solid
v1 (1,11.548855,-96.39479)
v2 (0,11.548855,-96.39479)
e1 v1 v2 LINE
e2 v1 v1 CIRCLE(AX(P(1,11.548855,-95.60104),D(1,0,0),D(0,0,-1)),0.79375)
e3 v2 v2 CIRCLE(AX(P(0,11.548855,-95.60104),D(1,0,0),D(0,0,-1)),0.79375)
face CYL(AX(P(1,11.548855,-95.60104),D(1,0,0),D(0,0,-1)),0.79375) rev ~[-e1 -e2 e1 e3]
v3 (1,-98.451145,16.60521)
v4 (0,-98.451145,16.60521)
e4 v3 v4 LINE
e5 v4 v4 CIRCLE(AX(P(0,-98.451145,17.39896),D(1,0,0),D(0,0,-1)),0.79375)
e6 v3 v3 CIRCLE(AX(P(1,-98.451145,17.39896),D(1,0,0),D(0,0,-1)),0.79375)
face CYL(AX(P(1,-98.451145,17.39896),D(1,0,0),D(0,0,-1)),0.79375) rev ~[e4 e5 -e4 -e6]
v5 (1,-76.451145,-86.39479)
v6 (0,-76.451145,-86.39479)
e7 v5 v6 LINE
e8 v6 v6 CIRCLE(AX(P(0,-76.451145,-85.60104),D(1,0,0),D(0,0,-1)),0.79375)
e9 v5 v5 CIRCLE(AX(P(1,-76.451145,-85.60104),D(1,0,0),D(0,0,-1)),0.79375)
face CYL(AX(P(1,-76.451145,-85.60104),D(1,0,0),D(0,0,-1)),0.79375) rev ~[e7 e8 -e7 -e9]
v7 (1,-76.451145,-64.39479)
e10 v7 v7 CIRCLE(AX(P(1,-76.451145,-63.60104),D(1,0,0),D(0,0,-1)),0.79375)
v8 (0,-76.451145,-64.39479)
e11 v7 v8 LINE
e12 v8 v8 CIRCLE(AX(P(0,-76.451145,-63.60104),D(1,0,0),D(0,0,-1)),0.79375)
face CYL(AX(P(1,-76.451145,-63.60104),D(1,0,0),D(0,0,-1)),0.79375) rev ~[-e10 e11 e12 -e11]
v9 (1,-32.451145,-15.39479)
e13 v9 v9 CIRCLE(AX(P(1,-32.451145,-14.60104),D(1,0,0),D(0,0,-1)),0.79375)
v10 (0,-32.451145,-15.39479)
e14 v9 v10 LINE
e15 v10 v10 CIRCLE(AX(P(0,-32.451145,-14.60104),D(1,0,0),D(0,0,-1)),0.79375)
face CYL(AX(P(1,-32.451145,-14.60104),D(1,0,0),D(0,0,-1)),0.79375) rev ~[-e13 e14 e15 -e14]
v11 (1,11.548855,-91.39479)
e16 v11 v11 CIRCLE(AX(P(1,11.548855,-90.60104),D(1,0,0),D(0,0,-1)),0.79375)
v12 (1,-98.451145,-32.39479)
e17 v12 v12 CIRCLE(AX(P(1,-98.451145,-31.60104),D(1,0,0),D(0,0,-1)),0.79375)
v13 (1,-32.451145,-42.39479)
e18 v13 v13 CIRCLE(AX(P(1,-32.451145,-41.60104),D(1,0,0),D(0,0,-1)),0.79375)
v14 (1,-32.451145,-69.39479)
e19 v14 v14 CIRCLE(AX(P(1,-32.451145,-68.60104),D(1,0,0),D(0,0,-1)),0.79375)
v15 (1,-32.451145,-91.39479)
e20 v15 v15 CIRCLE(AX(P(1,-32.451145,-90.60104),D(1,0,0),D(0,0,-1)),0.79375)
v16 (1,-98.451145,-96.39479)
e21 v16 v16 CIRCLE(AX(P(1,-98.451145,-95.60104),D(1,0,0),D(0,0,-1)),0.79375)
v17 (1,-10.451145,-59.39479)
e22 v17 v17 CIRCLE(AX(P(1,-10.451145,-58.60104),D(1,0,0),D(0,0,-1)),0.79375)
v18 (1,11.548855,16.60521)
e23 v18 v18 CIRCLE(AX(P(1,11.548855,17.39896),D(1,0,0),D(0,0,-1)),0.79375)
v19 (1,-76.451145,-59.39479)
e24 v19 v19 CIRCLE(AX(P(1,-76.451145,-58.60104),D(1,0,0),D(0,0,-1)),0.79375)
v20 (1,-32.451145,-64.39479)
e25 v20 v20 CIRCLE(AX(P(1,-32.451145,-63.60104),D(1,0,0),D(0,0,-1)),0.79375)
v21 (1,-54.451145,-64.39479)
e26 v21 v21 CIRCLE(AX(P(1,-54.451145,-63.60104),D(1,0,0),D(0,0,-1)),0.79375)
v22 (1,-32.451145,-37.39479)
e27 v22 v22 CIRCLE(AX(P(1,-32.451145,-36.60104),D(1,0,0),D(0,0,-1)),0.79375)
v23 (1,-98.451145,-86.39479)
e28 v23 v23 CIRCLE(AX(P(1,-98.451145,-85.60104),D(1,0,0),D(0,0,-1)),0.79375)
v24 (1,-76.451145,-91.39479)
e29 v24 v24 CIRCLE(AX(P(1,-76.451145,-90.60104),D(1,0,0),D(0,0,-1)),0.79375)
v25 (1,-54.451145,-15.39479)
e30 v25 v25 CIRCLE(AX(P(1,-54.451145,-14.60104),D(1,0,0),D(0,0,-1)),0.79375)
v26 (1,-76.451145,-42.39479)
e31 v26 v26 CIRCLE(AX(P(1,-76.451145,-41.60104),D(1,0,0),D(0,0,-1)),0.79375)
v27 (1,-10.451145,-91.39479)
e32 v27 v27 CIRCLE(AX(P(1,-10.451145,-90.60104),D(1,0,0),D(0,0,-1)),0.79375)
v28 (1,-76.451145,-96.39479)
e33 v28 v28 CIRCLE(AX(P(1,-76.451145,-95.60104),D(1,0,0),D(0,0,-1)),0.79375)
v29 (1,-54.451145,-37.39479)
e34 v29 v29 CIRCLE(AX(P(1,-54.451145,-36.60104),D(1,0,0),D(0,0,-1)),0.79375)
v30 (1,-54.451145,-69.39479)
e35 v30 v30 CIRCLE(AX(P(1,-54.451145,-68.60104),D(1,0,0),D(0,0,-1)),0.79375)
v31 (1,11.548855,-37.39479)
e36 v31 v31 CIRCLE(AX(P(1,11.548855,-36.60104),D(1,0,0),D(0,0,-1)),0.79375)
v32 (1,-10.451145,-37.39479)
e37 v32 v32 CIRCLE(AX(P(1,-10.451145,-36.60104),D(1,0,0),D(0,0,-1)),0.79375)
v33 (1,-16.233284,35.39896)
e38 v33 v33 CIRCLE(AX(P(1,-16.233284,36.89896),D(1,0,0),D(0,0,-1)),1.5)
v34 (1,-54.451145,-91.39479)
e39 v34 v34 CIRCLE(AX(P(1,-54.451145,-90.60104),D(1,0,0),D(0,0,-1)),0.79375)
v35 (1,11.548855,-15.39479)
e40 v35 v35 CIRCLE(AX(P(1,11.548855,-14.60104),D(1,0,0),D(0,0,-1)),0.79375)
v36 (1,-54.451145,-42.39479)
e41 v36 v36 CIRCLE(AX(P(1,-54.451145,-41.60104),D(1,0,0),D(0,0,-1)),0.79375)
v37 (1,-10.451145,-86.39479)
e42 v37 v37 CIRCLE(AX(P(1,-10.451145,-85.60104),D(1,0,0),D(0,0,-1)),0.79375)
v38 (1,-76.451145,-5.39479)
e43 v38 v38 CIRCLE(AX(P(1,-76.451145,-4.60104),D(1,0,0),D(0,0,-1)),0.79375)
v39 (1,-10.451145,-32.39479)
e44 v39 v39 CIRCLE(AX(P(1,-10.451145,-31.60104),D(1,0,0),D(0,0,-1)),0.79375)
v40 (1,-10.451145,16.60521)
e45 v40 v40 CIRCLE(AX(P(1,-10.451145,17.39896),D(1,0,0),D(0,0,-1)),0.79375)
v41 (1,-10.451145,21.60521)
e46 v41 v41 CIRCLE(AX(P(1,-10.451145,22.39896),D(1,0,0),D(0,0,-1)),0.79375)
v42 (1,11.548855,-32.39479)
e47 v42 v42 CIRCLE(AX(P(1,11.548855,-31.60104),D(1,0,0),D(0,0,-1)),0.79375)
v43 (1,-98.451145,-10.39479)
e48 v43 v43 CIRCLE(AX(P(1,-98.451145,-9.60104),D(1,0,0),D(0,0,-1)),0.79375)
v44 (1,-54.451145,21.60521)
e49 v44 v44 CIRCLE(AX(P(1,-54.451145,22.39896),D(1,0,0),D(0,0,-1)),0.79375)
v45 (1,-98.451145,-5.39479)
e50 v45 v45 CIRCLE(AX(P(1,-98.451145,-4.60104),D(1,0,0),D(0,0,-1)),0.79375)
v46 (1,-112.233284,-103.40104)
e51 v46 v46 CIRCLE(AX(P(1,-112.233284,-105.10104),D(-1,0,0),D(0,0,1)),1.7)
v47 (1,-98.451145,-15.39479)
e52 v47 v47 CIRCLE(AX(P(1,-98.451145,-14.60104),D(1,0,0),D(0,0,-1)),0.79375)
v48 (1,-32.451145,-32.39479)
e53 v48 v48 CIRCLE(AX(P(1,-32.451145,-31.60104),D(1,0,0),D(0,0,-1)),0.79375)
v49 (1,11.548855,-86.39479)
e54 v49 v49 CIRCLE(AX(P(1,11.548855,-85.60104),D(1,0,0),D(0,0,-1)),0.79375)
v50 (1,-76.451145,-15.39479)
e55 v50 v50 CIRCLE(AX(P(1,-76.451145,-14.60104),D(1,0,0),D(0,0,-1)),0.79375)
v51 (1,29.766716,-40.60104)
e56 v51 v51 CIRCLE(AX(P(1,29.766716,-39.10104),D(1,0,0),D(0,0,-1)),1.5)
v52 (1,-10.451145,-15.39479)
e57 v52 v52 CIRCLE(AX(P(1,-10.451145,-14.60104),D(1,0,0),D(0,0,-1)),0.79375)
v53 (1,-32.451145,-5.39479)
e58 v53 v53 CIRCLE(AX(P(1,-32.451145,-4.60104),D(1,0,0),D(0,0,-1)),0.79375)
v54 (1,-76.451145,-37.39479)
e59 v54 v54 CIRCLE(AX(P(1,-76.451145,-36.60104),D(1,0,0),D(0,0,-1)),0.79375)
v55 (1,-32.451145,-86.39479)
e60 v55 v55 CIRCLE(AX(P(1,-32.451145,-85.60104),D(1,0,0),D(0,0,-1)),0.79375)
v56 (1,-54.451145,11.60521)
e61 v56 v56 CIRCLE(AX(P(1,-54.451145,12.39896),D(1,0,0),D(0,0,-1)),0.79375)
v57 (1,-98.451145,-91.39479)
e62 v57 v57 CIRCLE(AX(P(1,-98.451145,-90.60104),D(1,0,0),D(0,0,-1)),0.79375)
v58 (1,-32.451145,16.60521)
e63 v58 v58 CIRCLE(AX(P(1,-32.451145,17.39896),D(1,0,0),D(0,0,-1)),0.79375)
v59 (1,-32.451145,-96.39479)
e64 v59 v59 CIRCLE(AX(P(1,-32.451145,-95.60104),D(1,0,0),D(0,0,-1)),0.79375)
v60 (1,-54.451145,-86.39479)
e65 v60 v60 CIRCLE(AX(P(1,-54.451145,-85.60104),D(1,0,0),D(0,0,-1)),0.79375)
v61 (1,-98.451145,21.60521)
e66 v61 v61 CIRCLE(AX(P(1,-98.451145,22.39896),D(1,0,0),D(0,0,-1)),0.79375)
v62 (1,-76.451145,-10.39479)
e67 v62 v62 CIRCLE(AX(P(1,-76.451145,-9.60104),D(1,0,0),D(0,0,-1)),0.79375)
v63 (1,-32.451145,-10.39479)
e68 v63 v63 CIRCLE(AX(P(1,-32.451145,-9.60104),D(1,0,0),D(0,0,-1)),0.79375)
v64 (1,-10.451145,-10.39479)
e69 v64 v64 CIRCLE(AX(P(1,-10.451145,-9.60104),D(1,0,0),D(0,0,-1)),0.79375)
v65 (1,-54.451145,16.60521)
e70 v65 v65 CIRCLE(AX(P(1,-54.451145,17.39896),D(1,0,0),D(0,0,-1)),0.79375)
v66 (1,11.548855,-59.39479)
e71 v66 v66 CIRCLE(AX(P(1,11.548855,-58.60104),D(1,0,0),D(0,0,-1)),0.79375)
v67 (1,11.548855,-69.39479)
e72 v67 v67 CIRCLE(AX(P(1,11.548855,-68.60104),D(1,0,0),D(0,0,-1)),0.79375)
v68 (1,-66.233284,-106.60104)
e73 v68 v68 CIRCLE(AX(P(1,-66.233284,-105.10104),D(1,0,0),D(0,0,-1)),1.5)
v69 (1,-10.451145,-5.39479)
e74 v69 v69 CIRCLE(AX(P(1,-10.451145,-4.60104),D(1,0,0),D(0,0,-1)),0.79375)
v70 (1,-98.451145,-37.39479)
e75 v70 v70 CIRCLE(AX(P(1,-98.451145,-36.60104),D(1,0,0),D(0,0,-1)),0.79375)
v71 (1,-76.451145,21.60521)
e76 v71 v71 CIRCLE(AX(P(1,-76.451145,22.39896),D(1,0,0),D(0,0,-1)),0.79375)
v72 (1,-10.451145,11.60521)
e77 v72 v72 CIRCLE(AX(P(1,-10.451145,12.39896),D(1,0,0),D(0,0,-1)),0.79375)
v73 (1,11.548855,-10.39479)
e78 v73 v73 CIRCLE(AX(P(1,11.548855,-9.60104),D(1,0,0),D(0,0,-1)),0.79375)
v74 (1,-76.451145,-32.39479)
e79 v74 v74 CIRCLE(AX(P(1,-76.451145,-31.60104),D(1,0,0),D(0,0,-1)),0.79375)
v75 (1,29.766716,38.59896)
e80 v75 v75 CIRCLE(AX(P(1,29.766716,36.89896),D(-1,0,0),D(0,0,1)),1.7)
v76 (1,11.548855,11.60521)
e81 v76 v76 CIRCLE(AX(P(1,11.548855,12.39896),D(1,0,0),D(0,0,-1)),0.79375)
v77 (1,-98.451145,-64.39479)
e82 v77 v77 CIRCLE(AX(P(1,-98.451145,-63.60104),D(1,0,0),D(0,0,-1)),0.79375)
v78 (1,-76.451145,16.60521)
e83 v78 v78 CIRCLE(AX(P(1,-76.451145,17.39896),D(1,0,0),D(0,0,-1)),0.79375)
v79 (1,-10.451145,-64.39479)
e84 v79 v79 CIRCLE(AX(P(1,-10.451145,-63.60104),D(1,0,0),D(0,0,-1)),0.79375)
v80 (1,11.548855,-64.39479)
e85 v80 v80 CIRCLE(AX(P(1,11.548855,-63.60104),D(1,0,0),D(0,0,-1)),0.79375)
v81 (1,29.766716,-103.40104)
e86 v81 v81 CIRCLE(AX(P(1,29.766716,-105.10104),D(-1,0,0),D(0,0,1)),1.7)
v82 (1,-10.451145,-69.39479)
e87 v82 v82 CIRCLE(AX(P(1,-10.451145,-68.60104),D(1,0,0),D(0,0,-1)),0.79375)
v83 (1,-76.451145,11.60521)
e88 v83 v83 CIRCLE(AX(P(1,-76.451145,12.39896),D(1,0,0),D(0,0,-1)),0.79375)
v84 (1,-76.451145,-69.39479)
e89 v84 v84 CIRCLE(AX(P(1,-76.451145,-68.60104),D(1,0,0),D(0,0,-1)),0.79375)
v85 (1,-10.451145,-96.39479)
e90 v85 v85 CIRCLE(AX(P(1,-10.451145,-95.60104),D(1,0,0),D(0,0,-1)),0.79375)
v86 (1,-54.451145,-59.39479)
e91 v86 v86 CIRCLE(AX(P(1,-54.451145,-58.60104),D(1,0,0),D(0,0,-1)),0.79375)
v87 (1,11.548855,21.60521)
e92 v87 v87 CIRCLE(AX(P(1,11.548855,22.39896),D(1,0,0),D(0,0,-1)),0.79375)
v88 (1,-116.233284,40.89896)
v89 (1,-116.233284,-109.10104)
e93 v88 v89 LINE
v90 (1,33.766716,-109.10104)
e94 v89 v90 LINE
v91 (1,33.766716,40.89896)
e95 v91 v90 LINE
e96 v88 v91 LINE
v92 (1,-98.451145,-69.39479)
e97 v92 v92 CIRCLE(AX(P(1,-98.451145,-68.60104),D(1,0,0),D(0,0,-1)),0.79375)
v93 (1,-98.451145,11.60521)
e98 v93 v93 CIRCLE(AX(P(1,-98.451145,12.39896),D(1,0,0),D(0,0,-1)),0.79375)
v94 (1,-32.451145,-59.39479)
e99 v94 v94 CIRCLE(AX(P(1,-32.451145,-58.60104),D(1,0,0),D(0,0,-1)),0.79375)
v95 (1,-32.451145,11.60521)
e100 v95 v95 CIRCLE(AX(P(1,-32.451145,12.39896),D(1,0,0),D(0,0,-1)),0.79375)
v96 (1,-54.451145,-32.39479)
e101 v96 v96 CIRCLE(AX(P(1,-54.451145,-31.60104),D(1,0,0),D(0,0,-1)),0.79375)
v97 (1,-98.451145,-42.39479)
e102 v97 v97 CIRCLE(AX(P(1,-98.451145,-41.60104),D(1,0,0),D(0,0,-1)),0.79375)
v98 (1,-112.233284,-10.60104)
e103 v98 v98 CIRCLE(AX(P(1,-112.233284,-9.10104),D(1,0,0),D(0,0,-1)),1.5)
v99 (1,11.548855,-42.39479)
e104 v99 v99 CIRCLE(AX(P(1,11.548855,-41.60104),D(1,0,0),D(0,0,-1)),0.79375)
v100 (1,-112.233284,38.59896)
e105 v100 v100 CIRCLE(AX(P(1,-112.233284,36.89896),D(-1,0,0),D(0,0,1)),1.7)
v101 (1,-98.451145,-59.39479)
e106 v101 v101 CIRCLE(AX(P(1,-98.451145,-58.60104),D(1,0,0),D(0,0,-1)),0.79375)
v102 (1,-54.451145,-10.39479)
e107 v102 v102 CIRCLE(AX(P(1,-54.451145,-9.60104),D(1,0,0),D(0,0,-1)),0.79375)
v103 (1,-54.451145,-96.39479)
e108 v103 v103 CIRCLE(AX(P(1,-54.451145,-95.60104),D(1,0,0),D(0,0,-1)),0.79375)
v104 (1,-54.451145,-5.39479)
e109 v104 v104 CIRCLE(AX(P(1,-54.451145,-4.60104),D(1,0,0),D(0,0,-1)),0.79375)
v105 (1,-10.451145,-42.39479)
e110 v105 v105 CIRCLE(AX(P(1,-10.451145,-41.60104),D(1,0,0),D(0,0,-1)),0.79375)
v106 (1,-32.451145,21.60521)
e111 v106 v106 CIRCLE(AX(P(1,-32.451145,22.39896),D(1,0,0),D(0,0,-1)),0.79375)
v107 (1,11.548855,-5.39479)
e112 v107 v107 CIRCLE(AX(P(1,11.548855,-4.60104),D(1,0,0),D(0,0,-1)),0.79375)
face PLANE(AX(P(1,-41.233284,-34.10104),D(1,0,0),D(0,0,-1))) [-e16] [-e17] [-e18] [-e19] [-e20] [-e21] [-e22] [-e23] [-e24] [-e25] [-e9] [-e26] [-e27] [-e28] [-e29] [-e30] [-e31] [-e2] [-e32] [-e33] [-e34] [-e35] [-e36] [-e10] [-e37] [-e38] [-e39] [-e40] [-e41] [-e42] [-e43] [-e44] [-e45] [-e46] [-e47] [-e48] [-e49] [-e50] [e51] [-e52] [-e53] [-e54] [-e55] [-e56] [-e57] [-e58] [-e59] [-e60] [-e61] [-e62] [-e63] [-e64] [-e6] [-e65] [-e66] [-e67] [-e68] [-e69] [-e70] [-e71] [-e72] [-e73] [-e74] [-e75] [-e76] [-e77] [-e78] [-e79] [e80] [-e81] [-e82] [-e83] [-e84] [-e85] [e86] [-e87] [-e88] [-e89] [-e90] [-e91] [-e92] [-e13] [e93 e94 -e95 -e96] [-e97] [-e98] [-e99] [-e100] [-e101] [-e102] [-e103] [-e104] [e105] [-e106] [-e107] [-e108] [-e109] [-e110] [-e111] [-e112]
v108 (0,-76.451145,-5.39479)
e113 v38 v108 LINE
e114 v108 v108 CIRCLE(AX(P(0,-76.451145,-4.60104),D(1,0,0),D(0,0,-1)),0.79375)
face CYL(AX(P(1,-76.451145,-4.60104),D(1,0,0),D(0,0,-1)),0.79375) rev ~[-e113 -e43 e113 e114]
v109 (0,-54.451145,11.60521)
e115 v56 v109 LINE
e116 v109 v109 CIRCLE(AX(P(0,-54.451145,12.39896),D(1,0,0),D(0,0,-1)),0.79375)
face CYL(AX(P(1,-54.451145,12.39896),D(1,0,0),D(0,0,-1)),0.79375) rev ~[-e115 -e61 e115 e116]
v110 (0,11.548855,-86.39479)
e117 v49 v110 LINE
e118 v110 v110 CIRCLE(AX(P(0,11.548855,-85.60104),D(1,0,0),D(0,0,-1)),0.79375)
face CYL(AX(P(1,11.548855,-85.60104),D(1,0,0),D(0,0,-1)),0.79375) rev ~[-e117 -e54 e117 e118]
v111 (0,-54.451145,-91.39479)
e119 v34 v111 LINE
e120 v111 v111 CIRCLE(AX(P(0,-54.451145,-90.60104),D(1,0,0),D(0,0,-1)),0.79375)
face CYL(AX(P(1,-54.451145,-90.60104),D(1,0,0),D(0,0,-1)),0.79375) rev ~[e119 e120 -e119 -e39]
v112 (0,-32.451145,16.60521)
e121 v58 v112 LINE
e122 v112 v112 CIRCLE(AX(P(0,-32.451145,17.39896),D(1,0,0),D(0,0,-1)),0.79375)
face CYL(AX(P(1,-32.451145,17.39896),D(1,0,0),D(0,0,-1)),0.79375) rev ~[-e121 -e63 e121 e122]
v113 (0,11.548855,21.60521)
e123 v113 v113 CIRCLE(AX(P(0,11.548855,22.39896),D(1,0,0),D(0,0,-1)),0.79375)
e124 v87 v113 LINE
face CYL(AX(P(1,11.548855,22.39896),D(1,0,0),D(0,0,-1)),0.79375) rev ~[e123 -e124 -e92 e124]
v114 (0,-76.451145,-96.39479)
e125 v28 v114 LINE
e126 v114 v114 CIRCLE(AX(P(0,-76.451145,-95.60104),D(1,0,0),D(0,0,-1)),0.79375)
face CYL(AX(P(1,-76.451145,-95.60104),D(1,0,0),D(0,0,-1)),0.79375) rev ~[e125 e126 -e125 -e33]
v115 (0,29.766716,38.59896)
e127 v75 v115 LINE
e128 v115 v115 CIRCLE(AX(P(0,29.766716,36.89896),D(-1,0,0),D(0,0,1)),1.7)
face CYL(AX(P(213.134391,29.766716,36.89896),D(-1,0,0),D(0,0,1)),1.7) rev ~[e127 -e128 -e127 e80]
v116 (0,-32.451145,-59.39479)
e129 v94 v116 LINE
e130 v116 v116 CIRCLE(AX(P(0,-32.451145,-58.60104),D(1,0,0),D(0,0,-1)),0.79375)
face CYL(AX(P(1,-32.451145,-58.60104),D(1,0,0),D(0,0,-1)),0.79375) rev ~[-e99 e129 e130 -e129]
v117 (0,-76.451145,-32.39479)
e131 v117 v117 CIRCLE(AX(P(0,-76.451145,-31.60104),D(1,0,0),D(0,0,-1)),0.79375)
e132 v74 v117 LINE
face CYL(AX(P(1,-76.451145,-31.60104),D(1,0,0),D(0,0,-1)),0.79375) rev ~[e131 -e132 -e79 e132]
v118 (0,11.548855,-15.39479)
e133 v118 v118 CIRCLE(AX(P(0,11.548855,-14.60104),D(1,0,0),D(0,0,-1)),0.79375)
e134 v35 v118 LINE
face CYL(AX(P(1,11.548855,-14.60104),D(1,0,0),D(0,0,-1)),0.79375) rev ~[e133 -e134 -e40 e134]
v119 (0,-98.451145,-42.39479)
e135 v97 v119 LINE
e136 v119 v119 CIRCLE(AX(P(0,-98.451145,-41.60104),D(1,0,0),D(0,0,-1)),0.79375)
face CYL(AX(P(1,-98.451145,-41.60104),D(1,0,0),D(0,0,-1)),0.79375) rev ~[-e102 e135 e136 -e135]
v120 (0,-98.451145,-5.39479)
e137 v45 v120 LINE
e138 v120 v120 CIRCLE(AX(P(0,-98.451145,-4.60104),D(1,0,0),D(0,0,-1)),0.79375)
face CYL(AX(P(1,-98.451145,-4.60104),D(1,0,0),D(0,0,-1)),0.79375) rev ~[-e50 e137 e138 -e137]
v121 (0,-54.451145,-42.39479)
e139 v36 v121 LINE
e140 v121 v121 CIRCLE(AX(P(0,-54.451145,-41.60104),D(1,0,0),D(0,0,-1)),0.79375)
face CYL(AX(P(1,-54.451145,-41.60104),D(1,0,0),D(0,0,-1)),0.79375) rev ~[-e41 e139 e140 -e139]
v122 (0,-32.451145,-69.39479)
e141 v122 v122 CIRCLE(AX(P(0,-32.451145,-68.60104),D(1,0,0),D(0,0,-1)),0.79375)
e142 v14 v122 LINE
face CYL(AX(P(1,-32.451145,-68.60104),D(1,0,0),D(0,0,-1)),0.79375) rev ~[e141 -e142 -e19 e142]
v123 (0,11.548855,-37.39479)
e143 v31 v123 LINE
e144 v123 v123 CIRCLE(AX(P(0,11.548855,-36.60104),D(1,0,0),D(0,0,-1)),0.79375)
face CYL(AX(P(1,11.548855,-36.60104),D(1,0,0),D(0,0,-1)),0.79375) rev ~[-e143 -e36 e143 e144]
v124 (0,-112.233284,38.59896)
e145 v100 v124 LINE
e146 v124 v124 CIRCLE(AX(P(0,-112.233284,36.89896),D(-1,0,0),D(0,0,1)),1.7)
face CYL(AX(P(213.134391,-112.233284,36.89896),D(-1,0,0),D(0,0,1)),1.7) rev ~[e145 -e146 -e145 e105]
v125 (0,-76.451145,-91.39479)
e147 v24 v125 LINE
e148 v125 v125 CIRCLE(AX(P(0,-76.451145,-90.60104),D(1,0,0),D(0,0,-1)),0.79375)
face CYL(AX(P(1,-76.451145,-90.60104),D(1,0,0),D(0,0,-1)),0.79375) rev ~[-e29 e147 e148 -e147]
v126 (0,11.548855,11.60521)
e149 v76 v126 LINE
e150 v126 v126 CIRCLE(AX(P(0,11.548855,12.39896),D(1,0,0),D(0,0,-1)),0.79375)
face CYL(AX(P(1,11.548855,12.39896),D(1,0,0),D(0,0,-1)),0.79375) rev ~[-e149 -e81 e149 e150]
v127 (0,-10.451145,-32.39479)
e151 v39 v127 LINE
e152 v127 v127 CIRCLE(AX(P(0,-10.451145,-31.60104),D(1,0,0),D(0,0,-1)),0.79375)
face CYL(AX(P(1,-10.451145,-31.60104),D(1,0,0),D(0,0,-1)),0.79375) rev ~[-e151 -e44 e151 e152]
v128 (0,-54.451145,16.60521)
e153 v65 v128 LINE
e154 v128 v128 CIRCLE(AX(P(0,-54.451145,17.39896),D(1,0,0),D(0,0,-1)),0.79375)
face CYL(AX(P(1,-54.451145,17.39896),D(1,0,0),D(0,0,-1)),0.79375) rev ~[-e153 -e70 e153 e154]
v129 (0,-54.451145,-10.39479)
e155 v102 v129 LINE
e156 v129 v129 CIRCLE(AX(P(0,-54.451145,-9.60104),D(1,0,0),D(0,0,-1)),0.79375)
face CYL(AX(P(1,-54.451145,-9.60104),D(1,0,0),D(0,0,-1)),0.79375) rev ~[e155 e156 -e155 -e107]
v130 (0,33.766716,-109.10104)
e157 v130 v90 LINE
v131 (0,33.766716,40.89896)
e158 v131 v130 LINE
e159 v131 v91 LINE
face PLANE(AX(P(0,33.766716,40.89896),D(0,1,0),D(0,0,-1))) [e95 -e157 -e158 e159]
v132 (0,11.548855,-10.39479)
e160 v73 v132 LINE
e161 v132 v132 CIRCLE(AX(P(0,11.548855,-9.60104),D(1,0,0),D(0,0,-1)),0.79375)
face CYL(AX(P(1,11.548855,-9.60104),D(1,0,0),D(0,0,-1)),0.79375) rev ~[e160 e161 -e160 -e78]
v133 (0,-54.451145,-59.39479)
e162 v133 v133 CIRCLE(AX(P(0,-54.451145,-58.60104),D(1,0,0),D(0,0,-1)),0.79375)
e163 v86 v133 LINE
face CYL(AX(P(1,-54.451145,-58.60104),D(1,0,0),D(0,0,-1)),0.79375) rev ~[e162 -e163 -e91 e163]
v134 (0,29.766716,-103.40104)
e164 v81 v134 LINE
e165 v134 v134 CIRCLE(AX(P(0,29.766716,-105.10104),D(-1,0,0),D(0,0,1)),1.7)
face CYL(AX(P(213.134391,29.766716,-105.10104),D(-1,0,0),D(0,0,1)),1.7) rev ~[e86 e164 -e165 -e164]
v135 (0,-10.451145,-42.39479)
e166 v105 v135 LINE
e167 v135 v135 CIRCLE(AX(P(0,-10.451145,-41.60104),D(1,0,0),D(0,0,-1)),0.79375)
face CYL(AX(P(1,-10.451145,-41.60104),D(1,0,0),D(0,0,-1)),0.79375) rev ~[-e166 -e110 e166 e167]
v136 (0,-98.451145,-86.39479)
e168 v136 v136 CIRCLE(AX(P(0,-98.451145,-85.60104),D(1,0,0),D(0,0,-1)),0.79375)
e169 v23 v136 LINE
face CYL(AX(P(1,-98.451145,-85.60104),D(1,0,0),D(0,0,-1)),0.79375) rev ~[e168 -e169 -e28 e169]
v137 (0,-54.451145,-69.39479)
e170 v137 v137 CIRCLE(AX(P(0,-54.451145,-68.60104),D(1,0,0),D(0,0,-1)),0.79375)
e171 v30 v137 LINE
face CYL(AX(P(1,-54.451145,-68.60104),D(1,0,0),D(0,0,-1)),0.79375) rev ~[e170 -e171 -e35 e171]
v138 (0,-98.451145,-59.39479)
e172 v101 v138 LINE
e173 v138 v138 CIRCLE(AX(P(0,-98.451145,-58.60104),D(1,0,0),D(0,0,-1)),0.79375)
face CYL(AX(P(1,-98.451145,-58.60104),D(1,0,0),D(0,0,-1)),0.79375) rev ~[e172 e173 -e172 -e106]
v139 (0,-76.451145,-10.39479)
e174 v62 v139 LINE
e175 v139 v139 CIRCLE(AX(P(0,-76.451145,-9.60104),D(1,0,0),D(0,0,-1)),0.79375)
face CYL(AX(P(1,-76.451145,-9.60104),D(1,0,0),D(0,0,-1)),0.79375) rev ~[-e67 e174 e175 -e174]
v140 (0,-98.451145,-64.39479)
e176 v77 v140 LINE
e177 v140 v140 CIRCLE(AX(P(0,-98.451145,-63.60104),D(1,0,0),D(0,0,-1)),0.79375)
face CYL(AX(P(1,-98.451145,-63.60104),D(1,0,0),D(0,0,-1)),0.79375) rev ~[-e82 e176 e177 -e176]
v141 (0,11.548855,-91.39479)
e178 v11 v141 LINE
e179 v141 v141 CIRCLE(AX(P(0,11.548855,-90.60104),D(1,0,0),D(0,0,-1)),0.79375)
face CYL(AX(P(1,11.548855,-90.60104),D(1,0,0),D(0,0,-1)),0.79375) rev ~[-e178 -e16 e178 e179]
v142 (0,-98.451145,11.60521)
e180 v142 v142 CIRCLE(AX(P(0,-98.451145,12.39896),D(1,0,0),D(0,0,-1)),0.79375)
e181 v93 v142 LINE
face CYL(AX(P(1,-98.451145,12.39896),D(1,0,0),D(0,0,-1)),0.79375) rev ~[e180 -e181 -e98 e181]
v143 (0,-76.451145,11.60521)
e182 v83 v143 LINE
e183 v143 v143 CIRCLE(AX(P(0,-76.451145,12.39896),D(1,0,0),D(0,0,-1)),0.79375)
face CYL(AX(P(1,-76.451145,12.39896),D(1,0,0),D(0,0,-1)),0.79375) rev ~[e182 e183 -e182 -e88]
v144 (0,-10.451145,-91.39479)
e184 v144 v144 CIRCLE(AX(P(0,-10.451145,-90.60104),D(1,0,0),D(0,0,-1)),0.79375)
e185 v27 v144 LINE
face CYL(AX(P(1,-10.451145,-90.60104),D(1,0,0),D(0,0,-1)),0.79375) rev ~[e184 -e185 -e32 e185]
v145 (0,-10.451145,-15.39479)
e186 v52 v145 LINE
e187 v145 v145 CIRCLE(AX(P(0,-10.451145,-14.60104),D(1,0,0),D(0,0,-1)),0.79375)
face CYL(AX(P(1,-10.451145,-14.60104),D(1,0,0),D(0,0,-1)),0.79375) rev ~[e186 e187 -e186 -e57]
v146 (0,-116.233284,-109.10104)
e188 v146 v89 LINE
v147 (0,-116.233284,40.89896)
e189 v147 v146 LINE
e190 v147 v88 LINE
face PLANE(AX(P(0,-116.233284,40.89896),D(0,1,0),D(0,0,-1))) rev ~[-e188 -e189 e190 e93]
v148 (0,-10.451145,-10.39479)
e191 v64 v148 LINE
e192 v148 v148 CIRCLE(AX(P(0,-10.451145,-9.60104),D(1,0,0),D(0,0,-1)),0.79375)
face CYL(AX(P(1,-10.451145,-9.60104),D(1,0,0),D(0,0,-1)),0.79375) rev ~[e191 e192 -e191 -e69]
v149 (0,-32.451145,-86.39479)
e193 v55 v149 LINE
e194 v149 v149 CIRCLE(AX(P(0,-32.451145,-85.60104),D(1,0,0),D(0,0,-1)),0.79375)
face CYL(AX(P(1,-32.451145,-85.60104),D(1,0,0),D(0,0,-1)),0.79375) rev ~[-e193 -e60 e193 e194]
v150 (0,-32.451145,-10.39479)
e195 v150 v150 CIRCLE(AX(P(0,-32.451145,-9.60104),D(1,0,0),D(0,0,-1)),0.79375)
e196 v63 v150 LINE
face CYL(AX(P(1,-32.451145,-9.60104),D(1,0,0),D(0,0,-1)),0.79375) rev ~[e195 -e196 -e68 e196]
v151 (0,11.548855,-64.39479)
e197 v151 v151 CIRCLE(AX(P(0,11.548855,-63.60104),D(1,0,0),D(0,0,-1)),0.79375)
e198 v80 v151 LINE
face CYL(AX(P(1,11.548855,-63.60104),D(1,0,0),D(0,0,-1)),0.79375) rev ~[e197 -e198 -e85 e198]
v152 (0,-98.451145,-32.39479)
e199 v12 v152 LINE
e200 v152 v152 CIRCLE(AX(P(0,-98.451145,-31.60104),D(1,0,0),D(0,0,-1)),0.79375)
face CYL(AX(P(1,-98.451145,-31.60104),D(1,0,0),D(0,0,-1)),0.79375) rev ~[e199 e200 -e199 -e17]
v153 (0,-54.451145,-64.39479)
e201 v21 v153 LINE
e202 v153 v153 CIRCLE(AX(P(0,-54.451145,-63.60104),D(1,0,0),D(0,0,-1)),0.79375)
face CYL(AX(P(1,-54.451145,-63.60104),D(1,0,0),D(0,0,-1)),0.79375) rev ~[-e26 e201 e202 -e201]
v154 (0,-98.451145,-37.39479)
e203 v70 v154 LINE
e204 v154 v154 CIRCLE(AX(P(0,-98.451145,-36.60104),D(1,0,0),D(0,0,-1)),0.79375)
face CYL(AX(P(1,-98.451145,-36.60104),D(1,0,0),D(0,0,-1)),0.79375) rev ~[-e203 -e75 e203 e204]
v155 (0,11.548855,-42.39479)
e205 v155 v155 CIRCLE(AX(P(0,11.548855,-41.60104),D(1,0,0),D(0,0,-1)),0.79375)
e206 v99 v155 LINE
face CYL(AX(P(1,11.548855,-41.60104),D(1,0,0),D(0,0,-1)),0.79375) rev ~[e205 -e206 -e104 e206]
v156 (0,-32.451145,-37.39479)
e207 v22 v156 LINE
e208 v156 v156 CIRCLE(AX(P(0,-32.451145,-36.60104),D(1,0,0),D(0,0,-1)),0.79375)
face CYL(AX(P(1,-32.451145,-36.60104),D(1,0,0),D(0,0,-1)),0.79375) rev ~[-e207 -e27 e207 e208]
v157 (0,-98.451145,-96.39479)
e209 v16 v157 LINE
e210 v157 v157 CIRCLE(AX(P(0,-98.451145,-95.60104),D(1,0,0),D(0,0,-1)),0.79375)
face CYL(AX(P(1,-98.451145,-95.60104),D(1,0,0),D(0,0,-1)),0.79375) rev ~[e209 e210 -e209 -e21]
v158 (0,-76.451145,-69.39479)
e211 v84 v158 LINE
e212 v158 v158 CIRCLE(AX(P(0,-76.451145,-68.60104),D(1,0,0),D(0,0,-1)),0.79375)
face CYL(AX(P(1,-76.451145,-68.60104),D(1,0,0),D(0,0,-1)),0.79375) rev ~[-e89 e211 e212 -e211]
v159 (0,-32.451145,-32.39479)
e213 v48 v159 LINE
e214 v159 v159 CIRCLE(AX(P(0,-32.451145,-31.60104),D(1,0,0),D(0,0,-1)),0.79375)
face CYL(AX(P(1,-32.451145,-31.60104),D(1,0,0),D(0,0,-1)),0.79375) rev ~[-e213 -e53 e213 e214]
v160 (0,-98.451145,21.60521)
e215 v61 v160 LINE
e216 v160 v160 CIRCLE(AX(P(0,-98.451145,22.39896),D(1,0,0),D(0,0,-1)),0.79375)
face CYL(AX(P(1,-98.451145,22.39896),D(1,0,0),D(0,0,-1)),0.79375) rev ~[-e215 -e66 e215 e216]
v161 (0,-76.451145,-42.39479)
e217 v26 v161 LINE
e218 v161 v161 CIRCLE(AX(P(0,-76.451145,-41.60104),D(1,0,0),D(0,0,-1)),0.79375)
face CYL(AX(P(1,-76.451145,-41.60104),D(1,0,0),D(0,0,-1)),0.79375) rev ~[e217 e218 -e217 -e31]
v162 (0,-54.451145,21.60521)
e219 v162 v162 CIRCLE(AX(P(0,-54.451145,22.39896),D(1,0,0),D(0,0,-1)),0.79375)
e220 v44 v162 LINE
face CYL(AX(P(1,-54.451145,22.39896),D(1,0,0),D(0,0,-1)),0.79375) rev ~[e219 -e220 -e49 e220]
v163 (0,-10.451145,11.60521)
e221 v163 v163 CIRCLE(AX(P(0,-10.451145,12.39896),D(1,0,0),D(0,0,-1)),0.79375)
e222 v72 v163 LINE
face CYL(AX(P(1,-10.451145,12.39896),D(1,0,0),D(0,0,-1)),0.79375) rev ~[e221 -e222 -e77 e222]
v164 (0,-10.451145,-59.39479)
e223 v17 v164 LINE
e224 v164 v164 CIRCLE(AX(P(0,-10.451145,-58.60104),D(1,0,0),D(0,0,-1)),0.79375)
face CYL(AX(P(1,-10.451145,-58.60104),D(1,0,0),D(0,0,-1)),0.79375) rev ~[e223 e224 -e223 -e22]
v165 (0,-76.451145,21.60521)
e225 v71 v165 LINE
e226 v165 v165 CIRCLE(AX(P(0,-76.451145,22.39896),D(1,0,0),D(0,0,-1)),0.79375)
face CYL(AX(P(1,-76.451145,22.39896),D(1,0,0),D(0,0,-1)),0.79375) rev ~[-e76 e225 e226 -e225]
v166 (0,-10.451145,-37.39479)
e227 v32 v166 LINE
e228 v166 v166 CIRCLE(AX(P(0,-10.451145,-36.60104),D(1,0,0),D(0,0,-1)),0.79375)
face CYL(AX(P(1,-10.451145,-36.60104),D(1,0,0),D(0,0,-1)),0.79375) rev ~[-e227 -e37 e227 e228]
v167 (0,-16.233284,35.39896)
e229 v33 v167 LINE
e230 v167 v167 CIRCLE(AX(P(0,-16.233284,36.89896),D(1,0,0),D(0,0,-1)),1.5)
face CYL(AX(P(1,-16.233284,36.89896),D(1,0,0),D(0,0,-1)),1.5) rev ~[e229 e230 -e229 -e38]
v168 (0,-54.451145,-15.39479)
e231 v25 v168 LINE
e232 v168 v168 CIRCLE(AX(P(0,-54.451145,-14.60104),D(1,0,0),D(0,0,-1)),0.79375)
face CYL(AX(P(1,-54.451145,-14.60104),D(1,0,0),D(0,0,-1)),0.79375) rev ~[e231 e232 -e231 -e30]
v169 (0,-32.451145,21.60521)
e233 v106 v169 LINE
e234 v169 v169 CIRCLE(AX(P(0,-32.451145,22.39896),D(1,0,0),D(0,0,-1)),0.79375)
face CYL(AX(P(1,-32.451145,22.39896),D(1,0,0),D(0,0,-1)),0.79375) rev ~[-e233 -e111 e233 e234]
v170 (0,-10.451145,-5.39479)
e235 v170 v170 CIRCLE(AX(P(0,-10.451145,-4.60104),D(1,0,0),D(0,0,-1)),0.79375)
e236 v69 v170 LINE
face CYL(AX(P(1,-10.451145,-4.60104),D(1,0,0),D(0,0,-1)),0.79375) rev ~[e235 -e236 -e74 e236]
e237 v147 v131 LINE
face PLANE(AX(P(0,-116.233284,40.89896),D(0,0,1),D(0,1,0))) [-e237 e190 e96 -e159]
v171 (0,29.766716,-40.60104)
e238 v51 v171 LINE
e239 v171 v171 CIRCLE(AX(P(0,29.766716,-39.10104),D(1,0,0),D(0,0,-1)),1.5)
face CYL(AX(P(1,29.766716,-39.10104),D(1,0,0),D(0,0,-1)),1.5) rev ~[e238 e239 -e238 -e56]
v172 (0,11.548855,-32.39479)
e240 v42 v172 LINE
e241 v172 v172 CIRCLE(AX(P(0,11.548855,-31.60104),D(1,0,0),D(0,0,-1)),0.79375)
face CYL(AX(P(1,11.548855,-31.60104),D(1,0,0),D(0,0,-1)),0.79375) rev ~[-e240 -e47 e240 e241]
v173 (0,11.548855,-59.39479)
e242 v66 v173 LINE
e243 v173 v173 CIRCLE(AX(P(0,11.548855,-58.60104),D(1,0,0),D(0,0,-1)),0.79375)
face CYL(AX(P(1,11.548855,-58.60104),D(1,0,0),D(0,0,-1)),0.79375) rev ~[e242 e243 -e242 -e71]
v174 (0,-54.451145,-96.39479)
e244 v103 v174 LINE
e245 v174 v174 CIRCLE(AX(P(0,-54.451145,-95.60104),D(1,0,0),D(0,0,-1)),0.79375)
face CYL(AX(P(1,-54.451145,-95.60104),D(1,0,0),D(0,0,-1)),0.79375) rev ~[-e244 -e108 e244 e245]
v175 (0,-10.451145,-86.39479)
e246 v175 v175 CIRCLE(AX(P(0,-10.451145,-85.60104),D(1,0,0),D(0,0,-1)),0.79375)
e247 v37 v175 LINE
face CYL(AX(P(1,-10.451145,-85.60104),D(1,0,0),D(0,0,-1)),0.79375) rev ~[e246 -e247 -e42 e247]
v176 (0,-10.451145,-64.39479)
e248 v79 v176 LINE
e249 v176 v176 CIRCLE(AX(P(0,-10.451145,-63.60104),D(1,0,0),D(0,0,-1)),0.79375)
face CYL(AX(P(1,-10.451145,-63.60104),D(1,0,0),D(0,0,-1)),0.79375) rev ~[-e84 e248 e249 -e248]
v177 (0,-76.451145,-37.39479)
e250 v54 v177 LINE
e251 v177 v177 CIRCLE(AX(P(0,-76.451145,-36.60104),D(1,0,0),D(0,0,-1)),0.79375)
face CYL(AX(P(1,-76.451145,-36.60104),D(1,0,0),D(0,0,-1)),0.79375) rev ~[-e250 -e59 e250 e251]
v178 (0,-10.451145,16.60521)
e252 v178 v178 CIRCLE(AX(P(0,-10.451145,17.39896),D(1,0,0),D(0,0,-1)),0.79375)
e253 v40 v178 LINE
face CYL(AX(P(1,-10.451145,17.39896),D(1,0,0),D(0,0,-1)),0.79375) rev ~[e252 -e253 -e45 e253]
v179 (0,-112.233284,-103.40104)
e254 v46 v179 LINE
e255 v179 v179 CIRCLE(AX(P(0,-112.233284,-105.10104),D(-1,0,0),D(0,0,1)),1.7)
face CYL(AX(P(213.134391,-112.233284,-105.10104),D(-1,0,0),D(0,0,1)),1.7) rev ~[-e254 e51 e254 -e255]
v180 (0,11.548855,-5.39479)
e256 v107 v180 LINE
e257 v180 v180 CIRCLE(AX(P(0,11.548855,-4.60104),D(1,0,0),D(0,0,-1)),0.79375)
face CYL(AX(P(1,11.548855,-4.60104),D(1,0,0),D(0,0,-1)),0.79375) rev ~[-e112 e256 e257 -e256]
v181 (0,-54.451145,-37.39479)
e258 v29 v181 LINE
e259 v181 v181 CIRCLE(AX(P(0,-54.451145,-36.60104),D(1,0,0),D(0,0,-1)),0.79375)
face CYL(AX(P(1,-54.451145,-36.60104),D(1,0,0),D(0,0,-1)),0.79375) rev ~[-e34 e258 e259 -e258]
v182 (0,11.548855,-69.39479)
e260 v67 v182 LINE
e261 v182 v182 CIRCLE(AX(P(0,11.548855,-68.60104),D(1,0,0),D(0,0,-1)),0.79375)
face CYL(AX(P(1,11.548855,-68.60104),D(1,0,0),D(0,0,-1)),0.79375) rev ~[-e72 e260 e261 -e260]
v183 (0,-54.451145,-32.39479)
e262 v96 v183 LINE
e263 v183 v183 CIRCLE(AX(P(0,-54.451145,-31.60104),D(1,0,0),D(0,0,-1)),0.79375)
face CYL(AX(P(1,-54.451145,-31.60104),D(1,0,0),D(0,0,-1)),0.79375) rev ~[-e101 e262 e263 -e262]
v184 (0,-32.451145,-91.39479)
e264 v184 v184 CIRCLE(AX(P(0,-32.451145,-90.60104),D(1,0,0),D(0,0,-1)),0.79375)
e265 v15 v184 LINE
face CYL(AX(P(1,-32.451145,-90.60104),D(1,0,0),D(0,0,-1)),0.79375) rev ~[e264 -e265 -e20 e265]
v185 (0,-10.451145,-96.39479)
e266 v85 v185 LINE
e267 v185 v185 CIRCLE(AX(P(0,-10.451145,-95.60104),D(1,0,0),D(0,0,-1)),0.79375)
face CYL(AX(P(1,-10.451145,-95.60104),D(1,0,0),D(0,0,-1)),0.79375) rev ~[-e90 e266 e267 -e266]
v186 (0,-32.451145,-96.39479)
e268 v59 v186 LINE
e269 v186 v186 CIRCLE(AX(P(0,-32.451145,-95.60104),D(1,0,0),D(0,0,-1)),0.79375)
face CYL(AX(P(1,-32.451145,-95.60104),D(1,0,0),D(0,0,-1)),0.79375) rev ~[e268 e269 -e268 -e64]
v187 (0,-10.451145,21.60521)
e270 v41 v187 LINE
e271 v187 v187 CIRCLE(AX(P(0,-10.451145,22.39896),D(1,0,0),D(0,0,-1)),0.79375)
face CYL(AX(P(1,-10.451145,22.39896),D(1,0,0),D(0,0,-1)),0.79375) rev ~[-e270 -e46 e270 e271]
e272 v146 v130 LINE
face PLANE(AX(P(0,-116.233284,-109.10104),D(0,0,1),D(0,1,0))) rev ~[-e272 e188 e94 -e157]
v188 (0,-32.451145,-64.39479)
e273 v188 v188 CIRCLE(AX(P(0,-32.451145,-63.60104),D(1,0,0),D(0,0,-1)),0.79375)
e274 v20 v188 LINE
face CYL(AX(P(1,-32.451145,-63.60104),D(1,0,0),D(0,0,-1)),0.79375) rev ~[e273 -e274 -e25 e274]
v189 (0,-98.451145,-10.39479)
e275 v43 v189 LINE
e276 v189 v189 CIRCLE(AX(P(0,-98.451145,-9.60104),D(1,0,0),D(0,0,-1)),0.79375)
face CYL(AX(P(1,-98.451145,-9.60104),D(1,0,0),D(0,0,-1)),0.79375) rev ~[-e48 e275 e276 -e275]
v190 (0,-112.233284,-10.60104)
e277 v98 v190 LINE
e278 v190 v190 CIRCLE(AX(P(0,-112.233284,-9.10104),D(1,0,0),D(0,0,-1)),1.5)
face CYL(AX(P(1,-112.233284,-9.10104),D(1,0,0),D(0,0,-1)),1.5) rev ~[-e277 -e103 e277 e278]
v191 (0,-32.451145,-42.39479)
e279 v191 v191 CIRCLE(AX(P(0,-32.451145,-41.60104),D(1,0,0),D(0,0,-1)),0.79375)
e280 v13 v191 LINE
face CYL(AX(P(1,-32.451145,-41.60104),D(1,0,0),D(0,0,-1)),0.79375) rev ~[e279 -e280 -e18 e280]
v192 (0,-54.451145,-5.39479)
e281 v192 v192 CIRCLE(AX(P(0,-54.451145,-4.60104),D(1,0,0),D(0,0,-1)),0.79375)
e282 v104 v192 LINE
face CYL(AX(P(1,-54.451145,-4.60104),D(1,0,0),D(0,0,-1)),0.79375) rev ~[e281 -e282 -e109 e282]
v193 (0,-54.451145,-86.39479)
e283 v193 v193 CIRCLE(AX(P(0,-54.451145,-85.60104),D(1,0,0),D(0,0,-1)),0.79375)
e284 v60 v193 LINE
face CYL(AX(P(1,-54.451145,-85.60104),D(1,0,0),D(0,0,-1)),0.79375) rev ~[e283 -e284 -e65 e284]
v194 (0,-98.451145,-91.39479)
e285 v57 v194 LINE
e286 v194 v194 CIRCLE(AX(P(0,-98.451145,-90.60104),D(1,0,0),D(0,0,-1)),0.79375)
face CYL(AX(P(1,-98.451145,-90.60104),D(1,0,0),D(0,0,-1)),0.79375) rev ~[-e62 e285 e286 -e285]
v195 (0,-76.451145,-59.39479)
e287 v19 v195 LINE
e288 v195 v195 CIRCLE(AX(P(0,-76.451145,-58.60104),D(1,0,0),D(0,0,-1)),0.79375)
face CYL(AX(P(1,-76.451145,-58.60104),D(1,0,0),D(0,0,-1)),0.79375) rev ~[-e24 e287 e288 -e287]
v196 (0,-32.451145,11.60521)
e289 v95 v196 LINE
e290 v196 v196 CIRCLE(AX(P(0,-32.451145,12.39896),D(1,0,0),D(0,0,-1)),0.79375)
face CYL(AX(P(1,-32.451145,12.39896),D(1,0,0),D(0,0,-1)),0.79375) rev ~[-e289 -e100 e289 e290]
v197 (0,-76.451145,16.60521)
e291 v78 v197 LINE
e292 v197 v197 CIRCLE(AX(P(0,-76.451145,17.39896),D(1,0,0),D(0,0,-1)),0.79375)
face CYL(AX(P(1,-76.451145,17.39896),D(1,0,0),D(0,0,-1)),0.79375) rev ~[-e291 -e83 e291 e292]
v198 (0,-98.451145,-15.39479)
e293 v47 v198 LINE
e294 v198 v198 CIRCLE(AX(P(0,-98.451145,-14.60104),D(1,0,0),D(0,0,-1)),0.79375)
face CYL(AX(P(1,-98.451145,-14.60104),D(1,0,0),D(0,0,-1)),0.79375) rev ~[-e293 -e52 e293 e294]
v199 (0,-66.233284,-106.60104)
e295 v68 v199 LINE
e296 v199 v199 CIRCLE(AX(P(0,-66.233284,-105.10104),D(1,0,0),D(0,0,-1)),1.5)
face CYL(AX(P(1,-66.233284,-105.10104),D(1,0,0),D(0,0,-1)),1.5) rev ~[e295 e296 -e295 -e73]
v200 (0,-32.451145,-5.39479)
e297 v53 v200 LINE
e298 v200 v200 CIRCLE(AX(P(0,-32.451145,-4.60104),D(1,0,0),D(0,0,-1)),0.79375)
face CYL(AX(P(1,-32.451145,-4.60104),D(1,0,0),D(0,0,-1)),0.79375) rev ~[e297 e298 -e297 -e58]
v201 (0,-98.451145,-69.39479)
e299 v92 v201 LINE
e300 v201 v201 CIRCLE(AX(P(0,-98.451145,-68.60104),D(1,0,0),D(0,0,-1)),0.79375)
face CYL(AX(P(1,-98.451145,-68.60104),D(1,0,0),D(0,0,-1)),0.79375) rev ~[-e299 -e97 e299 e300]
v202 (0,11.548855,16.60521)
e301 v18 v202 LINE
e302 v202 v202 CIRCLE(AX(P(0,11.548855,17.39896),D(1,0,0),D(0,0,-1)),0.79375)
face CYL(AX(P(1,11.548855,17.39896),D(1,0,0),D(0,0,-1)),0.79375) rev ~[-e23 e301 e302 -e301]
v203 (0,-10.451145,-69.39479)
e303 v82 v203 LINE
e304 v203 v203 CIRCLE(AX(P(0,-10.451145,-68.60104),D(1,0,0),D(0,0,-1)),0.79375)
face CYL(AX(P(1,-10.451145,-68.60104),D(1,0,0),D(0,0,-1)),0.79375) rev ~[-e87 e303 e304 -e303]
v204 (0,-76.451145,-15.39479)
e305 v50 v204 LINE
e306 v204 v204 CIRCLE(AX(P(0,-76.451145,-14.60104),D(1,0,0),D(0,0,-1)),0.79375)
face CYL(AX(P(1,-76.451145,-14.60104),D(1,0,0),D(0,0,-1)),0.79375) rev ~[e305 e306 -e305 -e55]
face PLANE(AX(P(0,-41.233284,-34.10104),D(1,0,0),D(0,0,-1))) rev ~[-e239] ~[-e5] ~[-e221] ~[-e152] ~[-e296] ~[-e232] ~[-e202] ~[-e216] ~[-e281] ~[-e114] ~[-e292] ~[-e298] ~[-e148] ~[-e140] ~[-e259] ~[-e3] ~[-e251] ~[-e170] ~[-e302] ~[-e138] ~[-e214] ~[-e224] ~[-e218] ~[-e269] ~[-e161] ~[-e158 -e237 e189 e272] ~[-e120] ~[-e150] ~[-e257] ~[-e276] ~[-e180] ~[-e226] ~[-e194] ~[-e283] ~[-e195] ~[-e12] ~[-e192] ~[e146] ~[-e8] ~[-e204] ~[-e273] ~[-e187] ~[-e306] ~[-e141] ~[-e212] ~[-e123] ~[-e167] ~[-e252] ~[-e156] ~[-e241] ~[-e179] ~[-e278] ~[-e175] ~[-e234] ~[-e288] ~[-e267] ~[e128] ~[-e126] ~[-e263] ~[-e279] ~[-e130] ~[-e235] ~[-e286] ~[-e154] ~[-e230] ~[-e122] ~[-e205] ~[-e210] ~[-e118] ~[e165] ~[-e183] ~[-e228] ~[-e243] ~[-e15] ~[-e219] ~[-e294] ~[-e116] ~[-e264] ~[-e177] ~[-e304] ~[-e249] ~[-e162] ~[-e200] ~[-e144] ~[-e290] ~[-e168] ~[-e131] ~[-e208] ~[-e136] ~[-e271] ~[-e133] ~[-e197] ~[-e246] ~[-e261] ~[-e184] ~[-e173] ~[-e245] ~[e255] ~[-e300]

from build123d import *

# Parameters (mm, degrees)
SKETCH2_W            = 150
SKETCH2_H            = 150
BOSS_EXTRUDE1_DEPTH  = 1
SKETCH4_R            = 0.79375
CUT_EXTRUDE1_DEPTH   = 160.418359102
LPATTERN1_COUNT      = 5
LPATTERN1_PITCH      = 27
LPATTERN1_COUNT_DIR2 = 6
LPATTERN1_PITCH_DIR2 = 22
M3_CLEARANCE_HOLE1_D = 3.4
SKETCH8_R            = 1.5
CUT_EXTRUDE2_DEPTH   = 160.418359102


with BuildPart() as part:
    # Sketch2 → Boss-Extrude1 (new body)
    with BuildSketch(Plane(origin=(0, 0, 0), x_dir=(0, 0, -1), z_dir=(1, 0, 0))):
        with Locations((34.101040119, -41.233283804)):
            Rectangle(SKETCH2_W, SKETCH2_H)
    extrude(amount=BOSS_EXTRUDE1_DEPTH)

    # Sketch4 → Cut-Extrude1 (cut, through all)
    with BuildSketch(Plane(origin=(1, 0, 0), x_dir=(0, 0, -1), z_dir=(1, 0, 0))):
        with Locations((-22.398959881, 11.548854602)):
            Circle(SKETCH4_R)
        with Locations((-17.398959881, 11.548854602)):
            Circle(SKETCH4_R)
        with Locations((-12.398959881, 11.548854602)):
            Circle(SKETCH4_R)
    cut_extrude1 = extrude(amount=-CUT_EXTRUDE1_DEPTH, mode=Mode.SUBTRACT)

    # LPattern1: Cut-Extrude1 5 × 6
    with Locations(*[(0, -j * LPATTERN1_PITCH_DIR2, -i * LPATTERN1_PITCH) for i in range(LPATTERN1_COUNT) for j in range(LPATTERN1_COUNT_DIR2) if (i, j) != (0, 0)]):
        add(cut_extrude1, mode=Mode.SUBTRACT)

    # M3 Clearance Hole1 (through all)
    with Locations(Plane(origin=(1, 0, 0), x_dir=(0, 0, -1), z_dir=(1, 0, 0))):
        with Locations((-36.898959881, 29.766716196), (105.101040119, 29.766716196), (105.101040119, -112.233283804), (-36.898959881, -112.233283804)):
            Hole(M3_CLEARANCE_HOLE1_D / 2)

    # Sketch8 → Cut-Extrude2 (cut, through all)
    with BuildSketch(Plane(origin=(1, 0, 0), x_dir=(0, 0, -1), z_dir=(1, 0, 0))):
        with Locations((39.101040119, 29.766716196)):
            Circle(SKETCH8_R)
        with Locations((-36.898959881, -16.233283804)):
            Circle(SKETCH8_R)
        with Locations((9.101040119, -112.233283804)):
            Circle(SKETCH8_R)
        with Locations((105.101040119, -66.233283804)):
            Circle(SKETCH8_R)
    extrude(amount=-CUT_EXTRUDE2_DEPTH, mode=Mode.SUBTRACT)


solid = part.part
